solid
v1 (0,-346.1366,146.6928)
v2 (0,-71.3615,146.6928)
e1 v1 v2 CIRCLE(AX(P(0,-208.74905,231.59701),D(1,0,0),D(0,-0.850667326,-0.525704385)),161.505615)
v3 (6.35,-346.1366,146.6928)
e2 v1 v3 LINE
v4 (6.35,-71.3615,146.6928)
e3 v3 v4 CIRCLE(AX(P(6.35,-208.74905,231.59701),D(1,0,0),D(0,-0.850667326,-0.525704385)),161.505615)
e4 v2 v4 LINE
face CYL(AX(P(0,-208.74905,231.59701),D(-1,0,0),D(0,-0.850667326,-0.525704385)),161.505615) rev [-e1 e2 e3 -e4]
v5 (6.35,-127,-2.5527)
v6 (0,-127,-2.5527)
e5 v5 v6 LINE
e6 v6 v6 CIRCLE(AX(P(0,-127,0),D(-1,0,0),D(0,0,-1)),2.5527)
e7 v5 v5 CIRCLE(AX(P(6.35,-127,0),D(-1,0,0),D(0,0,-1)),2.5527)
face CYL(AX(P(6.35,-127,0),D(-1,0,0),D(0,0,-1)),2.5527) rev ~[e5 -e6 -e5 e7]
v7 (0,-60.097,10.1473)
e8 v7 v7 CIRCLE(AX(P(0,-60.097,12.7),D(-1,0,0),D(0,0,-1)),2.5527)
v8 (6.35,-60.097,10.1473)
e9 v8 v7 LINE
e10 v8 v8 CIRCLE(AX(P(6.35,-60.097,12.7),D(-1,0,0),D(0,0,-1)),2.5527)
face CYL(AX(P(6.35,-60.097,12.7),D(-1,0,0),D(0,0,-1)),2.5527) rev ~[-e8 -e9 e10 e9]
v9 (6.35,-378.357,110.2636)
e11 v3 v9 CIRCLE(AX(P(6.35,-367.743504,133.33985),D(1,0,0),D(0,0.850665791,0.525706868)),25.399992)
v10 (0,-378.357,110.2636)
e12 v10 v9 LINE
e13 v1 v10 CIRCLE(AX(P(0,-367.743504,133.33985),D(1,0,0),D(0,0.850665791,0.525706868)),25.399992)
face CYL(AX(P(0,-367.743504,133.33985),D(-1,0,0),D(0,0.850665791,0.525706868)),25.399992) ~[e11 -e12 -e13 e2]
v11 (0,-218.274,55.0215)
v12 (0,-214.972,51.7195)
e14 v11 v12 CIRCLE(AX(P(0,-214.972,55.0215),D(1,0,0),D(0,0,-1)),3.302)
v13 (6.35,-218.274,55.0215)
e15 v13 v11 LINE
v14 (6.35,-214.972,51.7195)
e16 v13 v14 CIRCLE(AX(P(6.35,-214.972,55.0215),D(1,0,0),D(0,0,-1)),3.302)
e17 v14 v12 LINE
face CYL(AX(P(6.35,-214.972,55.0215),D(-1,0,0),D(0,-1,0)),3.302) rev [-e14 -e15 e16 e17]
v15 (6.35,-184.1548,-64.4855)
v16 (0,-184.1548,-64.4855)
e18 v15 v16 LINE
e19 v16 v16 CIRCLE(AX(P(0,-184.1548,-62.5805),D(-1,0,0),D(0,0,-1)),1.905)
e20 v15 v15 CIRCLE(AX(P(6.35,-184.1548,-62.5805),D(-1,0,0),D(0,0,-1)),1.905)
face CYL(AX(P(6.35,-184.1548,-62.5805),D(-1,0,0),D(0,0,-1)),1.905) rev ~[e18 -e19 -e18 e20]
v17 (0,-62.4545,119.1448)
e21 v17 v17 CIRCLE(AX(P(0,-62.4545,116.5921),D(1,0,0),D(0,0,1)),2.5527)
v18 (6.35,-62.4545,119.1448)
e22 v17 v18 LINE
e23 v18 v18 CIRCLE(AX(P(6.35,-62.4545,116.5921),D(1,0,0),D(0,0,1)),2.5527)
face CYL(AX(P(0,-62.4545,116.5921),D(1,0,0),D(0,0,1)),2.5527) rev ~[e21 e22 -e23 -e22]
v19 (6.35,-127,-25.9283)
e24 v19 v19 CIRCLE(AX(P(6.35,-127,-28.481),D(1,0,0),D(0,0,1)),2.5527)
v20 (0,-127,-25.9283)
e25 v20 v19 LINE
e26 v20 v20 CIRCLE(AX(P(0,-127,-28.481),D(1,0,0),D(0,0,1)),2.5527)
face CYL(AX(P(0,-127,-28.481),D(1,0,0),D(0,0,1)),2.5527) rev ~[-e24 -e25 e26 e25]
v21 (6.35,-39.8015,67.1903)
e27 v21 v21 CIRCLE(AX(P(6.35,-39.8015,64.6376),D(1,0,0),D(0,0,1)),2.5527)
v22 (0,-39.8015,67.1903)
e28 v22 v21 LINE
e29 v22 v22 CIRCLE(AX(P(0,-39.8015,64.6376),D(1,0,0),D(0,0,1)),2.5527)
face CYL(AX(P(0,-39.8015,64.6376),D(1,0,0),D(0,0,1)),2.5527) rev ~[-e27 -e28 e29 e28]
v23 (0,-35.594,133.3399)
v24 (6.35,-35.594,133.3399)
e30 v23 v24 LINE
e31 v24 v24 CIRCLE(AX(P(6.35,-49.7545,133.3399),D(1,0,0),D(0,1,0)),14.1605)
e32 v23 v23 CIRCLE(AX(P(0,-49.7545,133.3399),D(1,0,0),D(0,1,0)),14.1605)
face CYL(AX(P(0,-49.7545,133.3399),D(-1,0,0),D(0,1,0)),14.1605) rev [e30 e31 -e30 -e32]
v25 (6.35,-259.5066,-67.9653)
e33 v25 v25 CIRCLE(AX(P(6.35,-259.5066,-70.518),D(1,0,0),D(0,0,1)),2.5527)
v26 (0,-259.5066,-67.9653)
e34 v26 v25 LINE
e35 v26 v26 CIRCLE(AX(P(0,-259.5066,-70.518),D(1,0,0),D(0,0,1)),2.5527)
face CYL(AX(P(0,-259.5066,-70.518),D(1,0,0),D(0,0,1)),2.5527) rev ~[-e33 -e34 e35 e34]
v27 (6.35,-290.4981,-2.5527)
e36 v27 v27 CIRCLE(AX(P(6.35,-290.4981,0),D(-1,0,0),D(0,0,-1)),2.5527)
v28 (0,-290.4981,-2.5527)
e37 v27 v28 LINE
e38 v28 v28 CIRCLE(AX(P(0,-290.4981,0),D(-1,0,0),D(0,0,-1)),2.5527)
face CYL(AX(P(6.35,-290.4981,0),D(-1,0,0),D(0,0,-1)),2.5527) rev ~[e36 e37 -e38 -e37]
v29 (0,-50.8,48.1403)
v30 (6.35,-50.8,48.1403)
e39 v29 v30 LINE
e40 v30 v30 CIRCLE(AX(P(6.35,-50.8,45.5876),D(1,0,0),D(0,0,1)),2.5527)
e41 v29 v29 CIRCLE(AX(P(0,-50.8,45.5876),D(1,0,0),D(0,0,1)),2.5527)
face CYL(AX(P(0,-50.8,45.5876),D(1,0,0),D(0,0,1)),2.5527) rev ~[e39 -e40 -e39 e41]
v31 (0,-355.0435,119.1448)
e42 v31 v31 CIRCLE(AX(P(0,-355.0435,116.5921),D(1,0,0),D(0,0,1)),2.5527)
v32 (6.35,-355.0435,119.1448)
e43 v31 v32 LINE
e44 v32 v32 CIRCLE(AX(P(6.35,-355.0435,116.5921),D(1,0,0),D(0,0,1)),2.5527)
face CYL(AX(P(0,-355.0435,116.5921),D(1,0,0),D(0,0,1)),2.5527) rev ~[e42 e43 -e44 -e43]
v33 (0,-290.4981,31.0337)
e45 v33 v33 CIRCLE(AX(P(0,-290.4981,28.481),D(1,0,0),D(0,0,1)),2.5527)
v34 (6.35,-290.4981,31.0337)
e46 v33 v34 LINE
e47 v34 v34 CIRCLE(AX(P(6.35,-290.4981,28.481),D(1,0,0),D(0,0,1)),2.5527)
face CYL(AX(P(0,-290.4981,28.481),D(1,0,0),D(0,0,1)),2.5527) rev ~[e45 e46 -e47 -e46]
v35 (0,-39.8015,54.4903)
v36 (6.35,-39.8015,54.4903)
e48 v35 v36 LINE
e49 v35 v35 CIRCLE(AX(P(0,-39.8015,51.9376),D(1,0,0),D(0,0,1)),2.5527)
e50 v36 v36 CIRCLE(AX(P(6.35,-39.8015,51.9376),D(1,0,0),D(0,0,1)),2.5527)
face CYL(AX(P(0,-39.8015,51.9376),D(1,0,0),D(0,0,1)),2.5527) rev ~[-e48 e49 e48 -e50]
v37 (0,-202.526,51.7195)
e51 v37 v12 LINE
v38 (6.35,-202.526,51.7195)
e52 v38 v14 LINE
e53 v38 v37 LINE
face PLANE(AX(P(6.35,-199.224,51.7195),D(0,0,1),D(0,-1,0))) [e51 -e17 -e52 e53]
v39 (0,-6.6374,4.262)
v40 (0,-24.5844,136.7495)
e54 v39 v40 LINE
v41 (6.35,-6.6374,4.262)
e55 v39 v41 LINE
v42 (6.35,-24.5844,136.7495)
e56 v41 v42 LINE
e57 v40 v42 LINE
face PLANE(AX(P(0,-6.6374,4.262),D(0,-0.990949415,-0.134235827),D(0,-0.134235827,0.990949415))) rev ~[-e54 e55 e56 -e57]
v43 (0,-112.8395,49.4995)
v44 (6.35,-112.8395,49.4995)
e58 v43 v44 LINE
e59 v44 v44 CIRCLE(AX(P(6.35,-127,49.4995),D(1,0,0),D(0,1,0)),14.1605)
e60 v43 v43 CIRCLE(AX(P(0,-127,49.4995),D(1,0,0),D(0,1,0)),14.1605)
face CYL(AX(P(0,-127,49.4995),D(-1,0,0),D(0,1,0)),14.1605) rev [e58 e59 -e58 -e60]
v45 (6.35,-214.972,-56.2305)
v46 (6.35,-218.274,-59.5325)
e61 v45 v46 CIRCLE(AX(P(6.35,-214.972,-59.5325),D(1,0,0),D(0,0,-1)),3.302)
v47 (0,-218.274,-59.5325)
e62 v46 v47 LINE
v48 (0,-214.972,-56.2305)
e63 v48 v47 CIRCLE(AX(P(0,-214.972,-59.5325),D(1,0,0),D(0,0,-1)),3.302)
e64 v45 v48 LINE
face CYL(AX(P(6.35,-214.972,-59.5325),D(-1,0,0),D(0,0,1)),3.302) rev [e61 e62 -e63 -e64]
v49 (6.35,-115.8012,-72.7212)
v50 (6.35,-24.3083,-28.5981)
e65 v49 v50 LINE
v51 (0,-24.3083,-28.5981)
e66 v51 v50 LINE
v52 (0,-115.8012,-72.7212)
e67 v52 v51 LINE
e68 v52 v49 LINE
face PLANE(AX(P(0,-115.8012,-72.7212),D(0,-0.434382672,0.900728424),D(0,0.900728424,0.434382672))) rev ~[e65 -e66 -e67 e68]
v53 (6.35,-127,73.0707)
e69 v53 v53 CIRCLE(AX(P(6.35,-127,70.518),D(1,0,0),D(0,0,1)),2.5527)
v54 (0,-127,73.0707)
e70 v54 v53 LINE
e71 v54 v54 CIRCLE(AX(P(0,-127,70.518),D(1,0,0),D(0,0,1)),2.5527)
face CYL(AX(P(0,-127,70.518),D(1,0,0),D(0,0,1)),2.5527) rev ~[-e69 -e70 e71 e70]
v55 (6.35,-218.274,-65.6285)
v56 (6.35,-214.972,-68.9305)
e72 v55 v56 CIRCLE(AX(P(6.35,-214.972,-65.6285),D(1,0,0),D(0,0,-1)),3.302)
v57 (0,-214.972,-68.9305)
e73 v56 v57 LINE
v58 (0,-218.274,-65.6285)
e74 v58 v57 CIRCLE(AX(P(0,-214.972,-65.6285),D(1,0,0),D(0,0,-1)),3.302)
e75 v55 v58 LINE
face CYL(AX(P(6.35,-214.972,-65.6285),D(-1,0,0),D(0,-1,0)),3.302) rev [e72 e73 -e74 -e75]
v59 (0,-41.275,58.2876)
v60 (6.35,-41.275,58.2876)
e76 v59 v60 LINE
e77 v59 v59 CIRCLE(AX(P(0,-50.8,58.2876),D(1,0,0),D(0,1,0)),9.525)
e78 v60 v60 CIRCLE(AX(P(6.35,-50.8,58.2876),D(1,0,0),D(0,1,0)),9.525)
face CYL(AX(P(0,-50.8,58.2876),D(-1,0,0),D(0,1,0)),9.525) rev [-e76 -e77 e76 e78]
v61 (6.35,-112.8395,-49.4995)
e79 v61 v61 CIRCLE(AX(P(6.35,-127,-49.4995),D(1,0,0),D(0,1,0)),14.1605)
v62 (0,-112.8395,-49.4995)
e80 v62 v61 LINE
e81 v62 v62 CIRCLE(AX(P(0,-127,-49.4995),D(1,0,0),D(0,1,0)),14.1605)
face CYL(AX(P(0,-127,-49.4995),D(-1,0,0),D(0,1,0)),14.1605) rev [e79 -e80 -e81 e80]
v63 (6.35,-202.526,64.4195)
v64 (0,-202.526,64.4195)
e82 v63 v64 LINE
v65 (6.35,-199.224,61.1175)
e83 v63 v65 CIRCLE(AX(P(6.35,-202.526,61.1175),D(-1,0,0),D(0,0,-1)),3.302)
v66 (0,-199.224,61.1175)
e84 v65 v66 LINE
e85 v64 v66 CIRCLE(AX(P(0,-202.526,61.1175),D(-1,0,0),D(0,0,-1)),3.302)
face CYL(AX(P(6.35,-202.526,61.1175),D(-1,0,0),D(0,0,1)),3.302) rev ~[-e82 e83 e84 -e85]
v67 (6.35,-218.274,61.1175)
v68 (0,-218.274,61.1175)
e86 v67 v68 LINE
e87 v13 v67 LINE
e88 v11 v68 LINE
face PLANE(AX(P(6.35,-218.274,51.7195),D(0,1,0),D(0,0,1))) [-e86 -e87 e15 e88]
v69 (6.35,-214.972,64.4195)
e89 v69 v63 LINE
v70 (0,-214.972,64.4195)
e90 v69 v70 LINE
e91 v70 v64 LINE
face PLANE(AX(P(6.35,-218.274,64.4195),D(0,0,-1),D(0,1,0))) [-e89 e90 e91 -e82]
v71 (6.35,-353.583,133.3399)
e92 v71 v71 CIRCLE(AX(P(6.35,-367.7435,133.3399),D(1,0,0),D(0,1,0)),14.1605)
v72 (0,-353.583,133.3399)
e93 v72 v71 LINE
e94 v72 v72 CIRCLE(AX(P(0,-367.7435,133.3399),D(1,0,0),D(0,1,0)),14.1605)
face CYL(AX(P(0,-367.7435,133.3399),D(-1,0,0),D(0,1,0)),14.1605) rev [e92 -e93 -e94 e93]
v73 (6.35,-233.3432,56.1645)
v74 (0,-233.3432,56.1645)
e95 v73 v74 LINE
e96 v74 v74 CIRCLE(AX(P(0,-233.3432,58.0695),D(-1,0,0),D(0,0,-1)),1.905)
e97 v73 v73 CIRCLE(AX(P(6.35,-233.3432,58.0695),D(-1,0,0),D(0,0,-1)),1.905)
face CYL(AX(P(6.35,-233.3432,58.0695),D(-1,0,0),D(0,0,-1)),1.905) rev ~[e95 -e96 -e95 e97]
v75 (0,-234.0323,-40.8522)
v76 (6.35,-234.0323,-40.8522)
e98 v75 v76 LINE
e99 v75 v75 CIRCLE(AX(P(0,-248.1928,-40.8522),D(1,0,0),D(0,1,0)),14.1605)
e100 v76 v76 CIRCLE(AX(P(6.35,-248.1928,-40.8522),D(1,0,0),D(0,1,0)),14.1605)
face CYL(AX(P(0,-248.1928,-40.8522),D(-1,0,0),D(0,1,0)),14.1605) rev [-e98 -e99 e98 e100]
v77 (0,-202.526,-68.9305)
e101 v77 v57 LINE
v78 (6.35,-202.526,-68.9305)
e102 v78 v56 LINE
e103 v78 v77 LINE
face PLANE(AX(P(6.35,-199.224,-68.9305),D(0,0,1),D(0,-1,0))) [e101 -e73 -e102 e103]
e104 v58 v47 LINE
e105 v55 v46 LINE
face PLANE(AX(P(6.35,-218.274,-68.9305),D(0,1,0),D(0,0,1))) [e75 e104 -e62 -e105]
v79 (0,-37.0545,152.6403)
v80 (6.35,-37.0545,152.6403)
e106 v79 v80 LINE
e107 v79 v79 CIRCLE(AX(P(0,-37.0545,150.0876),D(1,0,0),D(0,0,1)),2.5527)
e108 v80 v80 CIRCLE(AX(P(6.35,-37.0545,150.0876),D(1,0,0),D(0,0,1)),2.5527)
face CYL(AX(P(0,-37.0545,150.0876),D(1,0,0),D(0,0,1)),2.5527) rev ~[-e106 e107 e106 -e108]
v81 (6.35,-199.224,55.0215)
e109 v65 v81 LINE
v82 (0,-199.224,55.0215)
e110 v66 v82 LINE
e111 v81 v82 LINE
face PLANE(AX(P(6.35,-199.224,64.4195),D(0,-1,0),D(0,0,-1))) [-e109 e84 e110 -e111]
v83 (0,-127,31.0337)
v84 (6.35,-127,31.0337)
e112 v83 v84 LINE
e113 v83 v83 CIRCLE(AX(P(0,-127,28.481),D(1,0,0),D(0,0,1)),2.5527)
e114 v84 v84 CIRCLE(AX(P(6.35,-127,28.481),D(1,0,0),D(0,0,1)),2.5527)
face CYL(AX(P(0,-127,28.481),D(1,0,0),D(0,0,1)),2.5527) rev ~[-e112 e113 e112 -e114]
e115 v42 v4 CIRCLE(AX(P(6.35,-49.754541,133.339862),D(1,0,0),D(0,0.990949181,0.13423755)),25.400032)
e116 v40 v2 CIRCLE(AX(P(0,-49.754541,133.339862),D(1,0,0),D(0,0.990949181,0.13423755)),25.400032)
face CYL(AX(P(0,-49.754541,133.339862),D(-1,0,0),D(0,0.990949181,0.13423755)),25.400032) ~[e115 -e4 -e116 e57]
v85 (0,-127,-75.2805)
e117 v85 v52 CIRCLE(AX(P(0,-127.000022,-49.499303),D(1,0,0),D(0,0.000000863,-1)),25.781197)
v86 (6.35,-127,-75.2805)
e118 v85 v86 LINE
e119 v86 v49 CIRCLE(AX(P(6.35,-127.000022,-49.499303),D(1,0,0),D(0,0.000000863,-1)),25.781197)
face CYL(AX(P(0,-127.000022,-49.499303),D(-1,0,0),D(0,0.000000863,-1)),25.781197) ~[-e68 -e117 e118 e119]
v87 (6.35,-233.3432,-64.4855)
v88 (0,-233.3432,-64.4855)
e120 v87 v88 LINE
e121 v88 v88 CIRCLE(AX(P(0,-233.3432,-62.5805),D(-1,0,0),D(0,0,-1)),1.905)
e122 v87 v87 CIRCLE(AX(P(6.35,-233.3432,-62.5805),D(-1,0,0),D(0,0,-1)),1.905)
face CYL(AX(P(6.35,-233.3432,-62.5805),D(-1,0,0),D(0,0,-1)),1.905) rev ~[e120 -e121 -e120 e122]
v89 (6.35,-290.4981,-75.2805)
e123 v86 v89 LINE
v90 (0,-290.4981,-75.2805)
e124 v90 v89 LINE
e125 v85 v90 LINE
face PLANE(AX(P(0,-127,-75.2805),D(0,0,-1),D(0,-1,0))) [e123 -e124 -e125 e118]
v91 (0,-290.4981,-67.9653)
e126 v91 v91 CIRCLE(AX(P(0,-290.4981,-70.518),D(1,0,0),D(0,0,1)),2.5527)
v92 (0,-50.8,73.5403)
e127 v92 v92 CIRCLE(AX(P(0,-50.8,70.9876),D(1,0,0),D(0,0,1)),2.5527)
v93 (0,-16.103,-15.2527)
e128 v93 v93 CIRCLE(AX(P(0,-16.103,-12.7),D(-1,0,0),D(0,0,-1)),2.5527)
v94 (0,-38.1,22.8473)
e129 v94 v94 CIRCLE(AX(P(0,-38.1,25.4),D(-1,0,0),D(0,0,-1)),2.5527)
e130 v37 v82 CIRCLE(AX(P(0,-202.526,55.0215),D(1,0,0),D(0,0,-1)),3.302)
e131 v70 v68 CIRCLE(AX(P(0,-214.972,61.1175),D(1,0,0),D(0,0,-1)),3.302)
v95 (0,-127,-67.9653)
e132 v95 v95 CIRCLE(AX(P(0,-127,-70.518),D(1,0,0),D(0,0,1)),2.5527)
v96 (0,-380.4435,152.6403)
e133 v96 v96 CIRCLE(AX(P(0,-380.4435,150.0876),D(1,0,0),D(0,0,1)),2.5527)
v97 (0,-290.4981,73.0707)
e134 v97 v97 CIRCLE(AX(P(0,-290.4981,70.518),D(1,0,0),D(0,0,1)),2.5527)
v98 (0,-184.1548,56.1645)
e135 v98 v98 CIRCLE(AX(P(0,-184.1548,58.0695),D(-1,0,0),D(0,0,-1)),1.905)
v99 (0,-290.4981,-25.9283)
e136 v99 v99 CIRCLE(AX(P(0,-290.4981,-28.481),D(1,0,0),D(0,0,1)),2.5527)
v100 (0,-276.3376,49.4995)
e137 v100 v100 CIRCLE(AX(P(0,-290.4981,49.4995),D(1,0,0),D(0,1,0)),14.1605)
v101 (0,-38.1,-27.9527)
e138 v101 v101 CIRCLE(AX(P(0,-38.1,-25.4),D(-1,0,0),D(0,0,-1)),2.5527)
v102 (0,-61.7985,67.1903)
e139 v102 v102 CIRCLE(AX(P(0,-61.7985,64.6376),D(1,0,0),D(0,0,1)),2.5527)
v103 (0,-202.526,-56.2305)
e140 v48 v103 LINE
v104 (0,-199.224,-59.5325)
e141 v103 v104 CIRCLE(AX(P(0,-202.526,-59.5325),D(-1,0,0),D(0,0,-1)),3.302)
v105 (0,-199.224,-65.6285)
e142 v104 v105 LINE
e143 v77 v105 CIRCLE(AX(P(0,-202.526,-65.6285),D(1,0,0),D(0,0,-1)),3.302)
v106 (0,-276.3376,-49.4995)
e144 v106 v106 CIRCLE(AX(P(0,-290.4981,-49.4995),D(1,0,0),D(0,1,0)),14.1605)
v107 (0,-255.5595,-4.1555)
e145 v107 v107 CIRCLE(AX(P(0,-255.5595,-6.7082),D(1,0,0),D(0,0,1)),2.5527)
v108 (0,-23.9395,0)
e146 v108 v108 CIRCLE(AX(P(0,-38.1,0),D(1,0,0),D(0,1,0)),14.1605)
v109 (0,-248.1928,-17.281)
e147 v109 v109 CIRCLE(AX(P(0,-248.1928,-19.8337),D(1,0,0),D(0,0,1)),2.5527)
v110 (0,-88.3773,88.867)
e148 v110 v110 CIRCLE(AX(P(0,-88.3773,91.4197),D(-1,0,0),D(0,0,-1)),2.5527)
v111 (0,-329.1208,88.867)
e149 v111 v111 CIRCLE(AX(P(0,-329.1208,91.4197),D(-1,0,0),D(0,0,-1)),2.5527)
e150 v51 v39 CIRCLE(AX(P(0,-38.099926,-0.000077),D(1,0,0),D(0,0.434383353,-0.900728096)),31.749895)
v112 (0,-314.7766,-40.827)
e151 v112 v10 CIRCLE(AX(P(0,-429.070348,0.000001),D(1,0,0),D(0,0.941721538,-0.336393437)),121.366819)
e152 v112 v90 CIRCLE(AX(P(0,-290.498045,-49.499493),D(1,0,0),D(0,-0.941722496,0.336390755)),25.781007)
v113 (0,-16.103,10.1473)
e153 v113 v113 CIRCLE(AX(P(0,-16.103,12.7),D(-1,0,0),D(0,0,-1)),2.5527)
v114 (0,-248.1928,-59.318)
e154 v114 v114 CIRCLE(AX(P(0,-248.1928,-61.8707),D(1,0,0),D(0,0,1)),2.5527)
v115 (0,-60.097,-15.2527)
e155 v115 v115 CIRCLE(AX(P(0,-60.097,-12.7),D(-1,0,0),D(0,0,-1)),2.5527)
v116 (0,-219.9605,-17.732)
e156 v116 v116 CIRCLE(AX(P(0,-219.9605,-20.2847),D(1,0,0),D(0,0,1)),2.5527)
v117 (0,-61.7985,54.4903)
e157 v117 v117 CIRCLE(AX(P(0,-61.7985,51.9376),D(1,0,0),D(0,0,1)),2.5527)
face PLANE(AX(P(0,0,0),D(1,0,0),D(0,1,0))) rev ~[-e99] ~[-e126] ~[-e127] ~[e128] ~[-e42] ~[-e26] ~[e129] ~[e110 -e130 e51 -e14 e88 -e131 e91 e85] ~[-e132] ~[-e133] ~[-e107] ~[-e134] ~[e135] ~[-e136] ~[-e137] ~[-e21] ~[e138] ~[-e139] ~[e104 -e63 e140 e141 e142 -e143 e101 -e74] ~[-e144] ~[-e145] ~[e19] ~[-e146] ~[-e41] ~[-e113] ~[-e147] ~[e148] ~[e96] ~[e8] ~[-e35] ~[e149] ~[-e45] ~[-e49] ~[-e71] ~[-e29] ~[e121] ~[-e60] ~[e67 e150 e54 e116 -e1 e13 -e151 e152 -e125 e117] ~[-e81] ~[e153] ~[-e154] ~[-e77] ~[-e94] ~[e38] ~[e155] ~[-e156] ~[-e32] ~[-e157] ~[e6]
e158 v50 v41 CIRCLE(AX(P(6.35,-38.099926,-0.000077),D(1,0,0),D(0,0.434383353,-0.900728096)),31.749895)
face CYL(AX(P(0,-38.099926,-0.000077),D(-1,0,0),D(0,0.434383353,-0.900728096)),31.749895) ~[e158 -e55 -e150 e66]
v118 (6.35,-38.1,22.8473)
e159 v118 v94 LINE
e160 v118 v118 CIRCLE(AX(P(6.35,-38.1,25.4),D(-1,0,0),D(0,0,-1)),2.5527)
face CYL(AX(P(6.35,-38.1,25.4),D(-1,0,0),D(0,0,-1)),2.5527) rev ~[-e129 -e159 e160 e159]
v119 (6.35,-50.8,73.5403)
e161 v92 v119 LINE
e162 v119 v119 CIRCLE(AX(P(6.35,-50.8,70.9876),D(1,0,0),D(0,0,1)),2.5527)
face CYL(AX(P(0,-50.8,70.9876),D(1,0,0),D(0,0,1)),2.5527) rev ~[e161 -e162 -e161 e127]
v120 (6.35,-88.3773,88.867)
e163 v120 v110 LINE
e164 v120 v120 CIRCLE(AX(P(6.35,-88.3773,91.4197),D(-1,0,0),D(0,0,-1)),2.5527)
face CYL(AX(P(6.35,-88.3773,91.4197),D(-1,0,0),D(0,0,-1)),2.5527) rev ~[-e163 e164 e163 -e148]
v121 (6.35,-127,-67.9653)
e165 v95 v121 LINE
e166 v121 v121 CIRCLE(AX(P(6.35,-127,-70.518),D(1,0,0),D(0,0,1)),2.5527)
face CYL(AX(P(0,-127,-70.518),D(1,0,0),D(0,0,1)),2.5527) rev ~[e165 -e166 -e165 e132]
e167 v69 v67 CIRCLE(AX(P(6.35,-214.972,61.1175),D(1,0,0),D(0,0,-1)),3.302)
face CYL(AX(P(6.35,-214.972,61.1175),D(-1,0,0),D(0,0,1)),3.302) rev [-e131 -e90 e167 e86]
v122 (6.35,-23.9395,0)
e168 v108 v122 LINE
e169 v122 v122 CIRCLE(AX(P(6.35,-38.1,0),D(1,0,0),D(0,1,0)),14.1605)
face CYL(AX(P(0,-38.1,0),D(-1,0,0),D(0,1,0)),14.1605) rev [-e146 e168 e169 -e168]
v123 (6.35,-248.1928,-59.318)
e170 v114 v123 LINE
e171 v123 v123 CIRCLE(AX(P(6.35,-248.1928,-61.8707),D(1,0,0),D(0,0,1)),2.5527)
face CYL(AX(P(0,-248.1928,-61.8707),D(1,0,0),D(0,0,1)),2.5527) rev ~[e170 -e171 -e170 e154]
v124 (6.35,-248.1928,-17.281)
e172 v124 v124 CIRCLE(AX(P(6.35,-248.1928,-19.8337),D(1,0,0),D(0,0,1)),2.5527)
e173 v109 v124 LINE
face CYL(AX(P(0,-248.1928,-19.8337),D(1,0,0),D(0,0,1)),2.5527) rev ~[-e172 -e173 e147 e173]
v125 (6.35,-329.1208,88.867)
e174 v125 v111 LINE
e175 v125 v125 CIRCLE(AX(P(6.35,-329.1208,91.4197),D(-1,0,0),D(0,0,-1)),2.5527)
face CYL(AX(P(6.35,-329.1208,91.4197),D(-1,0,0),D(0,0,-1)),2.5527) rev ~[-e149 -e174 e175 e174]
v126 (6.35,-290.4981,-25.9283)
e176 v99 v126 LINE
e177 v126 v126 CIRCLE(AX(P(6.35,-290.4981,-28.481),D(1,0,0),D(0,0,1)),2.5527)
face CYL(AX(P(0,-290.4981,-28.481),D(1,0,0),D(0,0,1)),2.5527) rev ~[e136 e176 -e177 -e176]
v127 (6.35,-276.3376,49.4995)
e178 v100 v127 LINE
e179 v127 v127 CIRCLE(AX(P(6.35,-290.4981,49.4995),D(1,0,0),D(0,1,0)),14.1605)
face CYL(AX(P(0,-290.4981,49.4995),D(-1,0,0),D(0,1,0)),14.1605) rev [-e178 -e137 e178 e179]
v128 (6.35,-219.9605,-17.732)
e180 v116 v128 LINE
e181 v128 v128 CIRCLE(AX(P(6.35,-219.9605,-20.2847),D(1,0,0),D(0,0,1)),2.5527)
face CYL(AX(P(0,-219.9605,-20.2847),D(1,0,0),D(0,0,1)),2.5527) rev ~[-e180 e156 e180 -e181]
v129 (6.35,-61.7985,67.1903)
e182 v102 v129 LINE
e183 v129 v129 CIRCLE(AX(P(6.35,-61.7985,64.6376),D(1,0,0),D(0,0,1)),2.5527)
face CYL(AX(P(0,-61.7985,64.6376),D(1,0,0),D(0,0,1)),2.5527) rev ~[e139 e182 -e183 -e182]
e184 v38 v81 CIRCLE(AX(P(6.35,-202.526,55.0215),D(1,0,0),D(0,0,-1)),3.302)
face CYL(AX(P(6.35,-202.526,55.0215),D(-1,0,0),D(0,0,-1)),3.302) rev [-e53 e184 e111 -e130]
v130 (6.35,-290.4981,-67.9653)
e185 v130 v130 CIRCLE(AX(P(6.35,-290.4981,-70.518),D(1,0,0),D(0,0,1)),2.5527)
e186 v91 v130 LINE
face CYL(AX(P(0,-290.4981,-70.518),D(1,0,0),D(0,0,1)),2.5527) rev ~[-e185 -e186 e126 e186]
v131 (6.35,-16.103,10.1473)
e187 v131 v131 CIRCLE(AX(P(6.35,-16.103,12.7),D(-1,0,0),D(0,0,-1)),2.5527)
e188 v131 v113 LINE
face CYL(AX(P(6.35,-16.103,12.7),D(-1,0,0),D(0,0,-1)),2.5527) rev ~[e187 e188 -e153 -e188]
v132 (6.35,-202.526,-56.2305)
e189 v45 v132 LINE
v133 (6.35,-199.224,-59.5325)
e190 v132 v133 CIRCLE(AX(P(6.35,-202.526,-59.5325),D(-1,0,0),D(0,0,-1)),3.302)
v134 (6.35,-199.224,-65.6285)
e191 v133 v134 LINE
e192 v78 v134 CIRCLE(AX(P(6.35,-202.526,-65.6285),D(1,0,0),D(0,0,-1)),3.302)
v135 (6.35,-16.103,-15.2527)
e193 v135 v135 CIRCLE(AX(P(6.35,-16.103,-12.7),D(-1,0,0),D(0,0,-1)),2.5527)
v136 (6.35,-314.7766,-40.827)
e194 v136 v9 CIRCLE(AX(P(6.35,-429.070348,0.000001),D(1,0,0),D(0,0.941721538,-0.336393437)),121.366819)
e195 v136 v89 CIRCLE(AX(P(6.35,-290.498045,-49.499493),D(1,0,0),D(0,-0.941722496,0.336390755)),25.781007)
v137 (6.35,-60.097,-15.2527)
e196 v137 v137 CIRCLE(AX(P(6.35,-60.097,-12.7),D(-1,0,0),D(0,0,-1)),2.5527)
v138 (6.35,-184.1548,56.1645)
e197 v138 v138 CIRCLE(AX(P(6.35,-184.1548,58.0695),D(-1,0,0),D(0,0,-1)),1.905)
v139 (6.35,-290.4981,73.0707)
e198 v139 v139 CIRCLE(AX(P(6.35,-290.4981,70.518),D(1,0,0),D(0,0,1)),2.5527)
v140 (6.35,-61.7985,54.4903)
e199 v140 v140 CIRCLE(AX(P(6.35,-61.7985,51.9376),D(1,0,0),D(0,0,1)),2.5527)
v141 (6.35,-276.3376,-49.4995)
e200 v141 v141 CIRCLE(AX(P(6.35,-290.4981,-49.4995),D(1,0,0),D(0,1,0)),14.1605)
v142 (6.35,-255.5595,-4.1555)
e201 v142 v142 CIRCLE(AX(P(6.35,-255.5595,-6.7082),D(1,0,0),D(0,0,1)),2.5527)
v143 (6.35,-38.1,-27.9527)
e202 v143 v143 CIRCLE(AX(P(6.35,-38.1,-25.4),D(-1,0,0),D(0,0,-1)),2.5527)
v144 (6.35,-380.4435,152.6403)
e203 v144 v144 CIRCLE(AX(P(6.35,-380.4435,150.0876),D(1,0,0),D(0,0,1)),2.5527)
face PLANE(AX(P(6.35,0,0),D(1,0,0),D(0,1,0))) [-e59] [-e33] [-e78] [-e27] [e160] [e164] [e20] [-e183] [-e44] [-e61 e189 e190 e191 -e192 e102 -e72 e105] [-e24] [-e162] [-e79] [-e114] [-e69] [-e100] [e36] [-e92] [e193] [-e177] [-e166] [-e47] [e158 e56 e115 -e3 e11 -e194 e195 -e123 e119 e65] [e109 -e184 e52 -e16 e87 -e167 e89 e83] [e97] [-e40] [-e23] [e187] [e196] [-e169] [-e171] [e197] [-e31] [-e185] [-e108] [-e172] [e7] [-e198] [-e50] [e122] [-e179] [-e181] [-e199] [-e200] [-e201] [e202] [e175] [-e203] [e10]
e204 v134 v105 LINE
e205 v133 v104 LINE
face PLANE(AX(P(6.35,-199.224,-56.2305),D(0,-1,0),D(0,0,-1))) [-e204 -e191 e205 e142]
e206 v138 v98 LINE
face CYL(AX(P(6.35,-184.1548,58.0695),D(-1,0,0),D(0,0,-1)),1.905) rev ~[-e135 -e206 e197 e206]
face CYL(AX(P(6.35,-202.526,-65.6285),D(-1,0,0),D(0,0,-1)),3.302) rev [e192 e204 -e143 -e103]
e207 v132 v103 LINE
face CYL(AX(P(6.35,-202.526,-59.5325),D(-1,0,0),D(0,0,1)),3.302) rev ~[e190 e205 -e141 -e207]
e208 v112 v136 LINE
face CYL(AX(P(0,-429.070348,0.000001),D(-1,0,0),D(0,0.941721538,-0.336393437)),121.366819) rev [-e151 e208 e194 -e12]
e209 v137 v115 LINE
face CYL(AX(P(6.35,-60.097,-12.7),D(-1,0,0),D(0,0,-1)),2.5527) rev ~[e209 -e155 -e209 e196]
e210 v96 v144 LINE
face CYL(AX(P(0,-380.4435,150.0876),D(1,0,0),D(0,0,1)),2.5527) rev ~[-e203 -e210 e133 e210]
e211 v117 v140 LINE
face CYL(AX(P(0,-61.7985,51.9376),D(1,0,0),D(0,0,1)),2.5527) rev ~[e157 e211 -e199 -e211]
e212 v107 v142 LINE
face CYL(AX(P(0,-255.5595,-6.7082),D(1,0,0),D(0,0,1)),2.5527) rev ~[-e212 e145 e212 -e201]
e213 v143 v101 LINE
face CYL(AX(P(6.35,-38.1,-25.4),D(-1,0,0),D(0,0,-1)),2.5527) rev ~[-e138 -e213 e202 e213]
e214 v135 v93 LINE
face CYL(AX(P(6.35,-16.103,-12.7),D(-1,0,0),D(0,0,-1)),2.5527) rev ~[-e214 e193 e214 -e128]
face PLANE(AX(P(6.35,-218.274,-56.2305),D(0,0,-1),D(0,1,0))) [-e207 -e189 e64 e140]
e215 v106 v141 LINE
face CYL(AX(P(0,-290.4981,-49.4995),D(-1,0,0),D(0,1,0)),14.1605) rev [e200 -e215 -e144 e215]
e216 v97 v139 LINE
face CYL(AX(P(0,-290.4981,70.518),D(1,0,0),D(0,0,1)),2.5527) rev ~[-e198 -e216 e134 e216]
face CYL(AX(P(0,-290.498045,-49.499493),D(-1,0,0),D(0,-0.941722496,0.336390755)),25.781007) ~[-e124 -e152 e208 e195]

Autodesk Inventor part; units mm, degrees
ref_plane "YZ Plane" through (0, 0, 0) normal (1, 0, 0) x (0, 1, 0)
ref_plane "XZ Plane" through (0, 0, 0) normal (0, 1, 0) x (-1, 0, 0)
ref_plane "XY Plane" through (0, 0, 0) normal (0, 0, 1) x (1, 0, 0)
sketch "Sketch1" plane through (0, 0, 0) normal (1, 0, 0) x (0, 1, 0)
  line L0 (-12.7, 25.4) -> (12.7, 25.4) construction
  line L1 (12.7, 25.4) -> (12.7, -25.4) construction
  line L2 (12.7, -25.4) -> (-12.7, -25.4) construction
  line L3 (-12.7, -25.4) -> (-12.7, 25.4) construction
  line L4 (-12.7, 25.4) -> (12.7, -25.4) construction
  line L5 (12.7, 25.4) -> (-12.7, -25.4) construction
  circle A0 centre (-127, -49.4995) radius 38.1 construction
  circle A1 centre (-290.4981, -49.4995) radius 38.1 construction
  circle A2 centre (-127, 49.4995) radius 38.1 construction
  circle A3 centre (-290.4981, 49.4995) radius 38.1 construction
  line L6 (-127, -49.4995) -> (-127, 49.4995) construction
  line L7 (-290.4981, -49.4995) -> (-290.4981, 49.4995) construction
  line L8 (-161.925, -152.4) -> (-255.5731, -152.4) construction
  line L9 (-255.5731, -152.4) -> (-255.5731, 152.4) construction
  line L10 (-255.5731, 152.4) -> (-161.925, 152.4) construction
  line L11 (-161.925, 152.4) -> (-161.925, -152.4) construction
  line L12 (-161.925, -152.4) -> (-255.5731, 152.4) construction
  line L13 (-255.5731, -152.4) -> (-161.925, 152.4) construction
  circle A4 centre (-127, -49.4995) radius 34.925 construction
  circle A5 centre (-290.4981, -49.4995) radius 34.925 construction
  circle A6 centre (-208.749, 279.4) radius 190.5 construction
  circle A7 centre (-49.7545, 133.3399) radius 25.4 construction
  circle A8 centre (-367.7435, 133.3399) radius 25.4 construction
  circle A9 centre (-653.2508, -157.862) radius 53.975 construction
  line L14 (-596.1008, -277.7111) -> (-621.5008, -277.7111) construction
  line L15 (-621.5008, -277.7111) -> (-621.5008, -201.5111) construction
  line L16 (-621.5008, -201.5111) -> (-596.1008, -201.5111) construction
  line L17 (-596.1008, -201.5111) -> (-596.1008, -277.7111) construction
  line L18 (-596.1008, -277.7111) -> (-621.5008, -201.5111) construction
  line L19 (-621.5008, -277.7111) -> (-596.1008, -201.5111) construction
  line L20 (-685.0008, -277.7111) -> (-710.4008, -277.7111) construction
  line L21 (-710.4008, -277.7111) -> (-710.4008, -201.5111) construction
  line L22 (-710.4008, -201.5111) -> (-685.0008, -201.5111) construction
  line L23 (-685.0008, -201.5111) -> (-685.0008, -277.7111) construction
  line L24 (-685.0008, -277.7111) -> (-710.4008, -201.5111) construction
  line L25 (-710.4008, -277.7111) -> (-685.0008, -201.5111) construction
  line L26 (-498.4346, -157.862) -> (-808.067, -157.862) construction
  point P0 (0, 0)
  point P1 (-127, 0)
  point P2 (-290.4981, 0)
  point P3 (-208.749, 0)
  point P4 (-608.8008, -239.6111)
  point P5 (-697.7008, -239.6111)
  dimension "d0" = 25.4
  dimension "d1" = 50.8
  dimension "d2" = 76.2
  dimension "d4" = 98.999
  dimension "d5" = 93.6481
  dimension "d6" = 304.8
  dimension "d7" = 3.175
  dimension "d8" = 3.175
  dimension "d9" = 127
  dimension "d10" = 381
  dimension "d11" = 50.8
  dimension "d12" = 50.8
  dimension "d13" = 114.0003
  dimension "d14" = 279.4
  dimension "d35" = 49.4995
  dimension "d68" = 107.95
  dimension "d69" = 25.4
  dimension "d70" = 76.2
  dimension "d71" = 63.5
  dimension "d72" = 81.749
  dimension "d73" = 163.4981
sketch "Sketch2" plane through (0, 0, 0) normal (1, 0, 0) x (0, 1, 0)
  circle A0 centre (-127, -49.4995) radius 38.1 construction
  circle A1 centre (-127, 49.4995) radius 38.1 construction
  circle A2 centre (-127, -49.4995) radius 34.925 construction
  line L0 (-255.5731, 152.4) -> (-161.925, 152.4) construction
  line L1 (-161.925, -152.4) -> (-255.5731, -152.4) construction
  line L2 (-161.925, 152.4) -> (-161.925, -152.4) construction
  line L3 (-255.5731, -152.4) -> (-161.925, 152.4) construction
  line L4 (-161.925, -152.4) -> (-255.5731, 152.4) construction
  line L5 (-255.5731, -152.4) -> (-255.5731, 152.4) construction
  circle A3 centre (-290.4981, 49.4995) radius 38.1 construction
  circle A4 centre (-290.4981, -49.4995) radius 34.925 construction
  circle A5 centre (-290.4981, -49.4995) radius 38.1 construction
  line L6 (-290.4981, -49.4995) -> (-290.4981, 49.4995) construction
  line L7 (-127, -49.4995) -> (-127, 49.4995) construction
  line L8 (-12.7, -25.4) -> (-12.7, 25.4) construction
  line L9 (12.7, 25.4) -> (12.7, -25.4) construction
  line L10 (12.7, -25.4) -> (-12.7, -25.4) construction
  line L11 (-12.7, 25.4) -> (12.7, -25.4) construction
  line L12 (12.7, 25.4) -> (-12.7, -25.4) construction
  line L13 (-12.7, 25.4) -> (12.7, 25.4) construction
  circle A6 centre (-208.749, 279.4) radius 190.5 construction
  circle A7 centre (-49.7545, 133.3399) radius 25.4 construction
  circle A8 centre (-367.7435, 133.3399) radius 25.4 construction
  circle A9 centre (-127, -49.4995) radius 14.1605
  circle A10 centre (-290.4981, -49.4995) radius 14.1605
  circle A11 centre (-290.4981, 49.4995) radius 14.1605
  circle A12 centre (-127, 49.4995) radius 14.1605
  circle A13 centre (-367.7435, 133.3399) radius 14.1605
  circle A14 centre (-49.7545, 133.3399) radius 14.1605
  circle A15 centre (-38.1, 0) radius 14.1605
  circle A16 centre (-38.1, 0) radius 39.3065 construction
  circle A17 centre (-38.1, 0) radius 25.4 construction
  circle A18 centre (-38.1, 0) radius 31.75 construction
  circle A19 centre (-127, -49.4995) radius 25.781 construction
  line L14 (-127, -70.518) -> (-127, -28.481) construction
  circle A20 centre (-127, -70.518) radius 4.7625 construction
  circle A21 centre (-290.4981, -49.4995) radius 25.781 construction
  circle A22 centre (-290.4981, 49.4995) radius 25.781 construction
  circle A23 centre (-127, 49.4995) radius 25.781 construction
  line L15 (-127, -75.2805) -> (-290.4981, -75.2805)
  arc A24 (-314.7766, -40.827) -> (-378.357, 110.2636) centre (-429.0704, 0) ccw
  line L16 (-115.8012, -72.7212) -> (-24.3083, -28.5981)
  line L17 (-6.6374, 4.262) -> (-24.5844, 136.7495)
  arc A25 (-346.1366, 146.6928) -> (-71.3615, 146.6928) centre (-208.749, 231.5971) ccw
  arc A26 (-24.5844, 136.7495) -> (-71.3615, 146.6928) centre (-49.7545, 133.3399) ccw
  arc A27 (-346.1366, 146.6928) -> (-378.357, 110.2636) centre (-367.7435, 133.3399) ccw
  arc A28 (-314.7766, -40.827) -> (-290.4981, -75.2805) centre (-290.4981, -49.4995) ccw
  arc A29 (-127, -75.2805) -> (-115.8012, -72.7212) centre (-127, -49.4995) ccw
  arc A30 (-24.3083, -28.5981) -> (-6.6374, 4.262) centre (-38.1, 0) ccw
  circle A31 centre (-50.8, 58.2876) radius 19.05 construction
  circle A32 centre (-50.8, 58.2876) radius 12.7 construction
  circle A33 centre (-50.8, 58.2876) radius 9.525
  line L18 (-290.4981, 28.481) -> (-290.4981, 70.518) construction
  line L19 (-290.4981, -70.518) -> (-290.4981, -28.481) construction
  line L20 (-62.4545, 116.5921) -> (-37.0545, 150.0876) construction
  line L21 (-355.0435, 116.5921) -> (-380.4435, 150.0876) construction
  line L22 (-127, 28.481) -> (-127, 70.518) construction
  circle A34 centre (-248.1928, -40.8522) radius 14.1605
  circle A35 centre (-248.1928, -40.8522) radius 21.59 construction
  circle A36 centre (-290.4981, -49.4995) radius 21.59 construction
  line L23 (-248.1928, -61.8707) -> (-248.1928, -19.8337) construction
  point P0 (0, 0)
  point P1 (-127, 0)
  point P2 (-208.749, 0)
  point P3 (-290.4981, 0)
  point P4 (0, 0)
  point P5 (-38.1, 25.4)
  point P6 (-395.5081, 116.5261)
  point P7 (-50.8, 45.5876)
  point P8 (-39.8015, 51.9376)
  point P9 (-39.8015, 64.6376)
  point P10 (-50.8, 70.9876)
  point P11 (-61.7985, 64.6376)
  point P12 (-61.7985, 51.9376)
  dimension "d18" = 50.8
  dimension "d32" = 9.525
  dimension "d37" = 25.4
  dimension "d15" = 28.321
  dimension "d16" = 38.1
  dimension "d17" = 78.613
  dimension "d19" = 6.35
  dimension "d31" = 42.037
  dimension "d36" = 38.1
  dimension "d38" = 19.05
  dimension "d50" = 12.7
  dimension "d51" = 12.7
  dimension "d61" = 360
  dimension "d63" = 75.0595
  dimension "d64" = 76.2
  dimension "d74" = 121.5009
  dimension "d75" = 43.18
extrude "Extrusion1" add sketch "Sketch2" along normal blind 6.35
hole "Hole1" at (0, -127, -49.4995) at (0, -127, 49.4995) at (0, -161.925, 152.4) at (0, -161.925, -152.4) at (0, -255.5731, 152.4) at (0, -290.4981, 49.4995) at (0, -290.4981, -49.4995) at (0, -255.5731, -152.4) at (0, -127, -70.518) at (0, -127, -28.481) at (0, -50.8, 45.5876) at (0, -290.4981, 28.481) at (0, -290.4981, 70.518) at (0, -290.4981, -70.518) at (0, -290.4981, -28.481) at (0, -62.4545, 116.5921) at (0, -37.0545, 150.0876) at (0, -355.0435, 116.5921) at (0, -380.4435, 150.0876) at (0, -127, 28.481) at (0, -127, 70.518) at (0, -61.7985, 51.9376) at (0, -61.7985, 64.6376) at (0, -50.8, 70.9876) at (0, -39.8015, 64.6376) at (0, -39.8015, 51.9376) at (0, -248.1928, -61.8707) at (0, -248.1928, -19.8337) direction (1, 0, 0) diameter 5.1054 end through all clearance for "Flat Head Machine Screw (82)" size "#10" standard "Ansi Unified Screw Threads"
sketch "Sketch3" plane through (6.35, 0, 0) normal (1, 0, 0) x (0, 0, -1)
  circle A0 centre (0, -38.1) radius 14.1605 construction
  circle A1 centre (0, -38.1) radius 25.4 construction
  point P0 (0, 0)
  point P1 (25.4, -38.1)
  point P2 (12.7, -16.103)
  point P3 (-12.7, -16.103)
  point P4 (-25.4, -38.1)
  point P5 (-12.7, -60.097)
  point P6 (12.7, -60.097)
  dimension "d77" = 50.8
  dimension "d80" = 360
hole "Hole2" at (6.35, -38.1, -25.4) at (6.35, -16.103, -12.7) at (6.35, -16.103, 12.7) at (6.35, -38.1, 25.4) at (6.35, -60.097, 12.7) at (6.35, -60.097, -12.7) direction (-1, 0, 0) diameter 5.1054 end through all clearance for "Flat Head Machine Screw (82)" size "#10" standard "Ansi Unified Screw Threads"
sketch "Sketch4" plane through (6.35, 0, 0) normal (1, 0, 0) x (0, 0, -1)
  circle A0 centre (-12.7, -60.097) radius 2.5527 projected
  circle A1 centre (-12.7, -16.103) radius 2.5527 projected
  circle A2 centre (25.4, -38.1) radius 2.5527 projected
  circle A3 centre (12.7, -16.103) radius 2.5527 projected
  circle A4 centre (-25.4, -38.1) radius 2.5527 projected
  circle A5 centre (12.7, -60.097) radius 2.5527 projected
  circle A6 centre (61.8707, -248.1928) radius 2.5527 projected
  circle A7 centre (-64.6376, -39.8015) radius 2.5527 projected
  circle A8 centre (-64.6376, -61.7985) radius 2.5527 projected
  circle A9 centre (-70.518, -127) radius 2.5527 projected
  circle A10 centre (-150.0876, -380.4435) radius 2.5527 projected
  circle A11 centre (-150.0876, -37.0545) radius 2.5527 projected
  circle A12 centre (28.481, -290.4981) radius 2.5527 projected
  circle A13 centre (-70.518, -290.4981) radius 2.5527 projected
  circle A14 centre (-45.5876, -50.8) radius 2.5527 projected
  circle A15 centre (70.518, -127) radius 2.5527 projected
  circle A16 centre (28.481, -127) radius 2.5527 projected
  circle A17 centre (-28.481, -290.4981) radius 2.5527 projected
  circle A18 centre (70.518, -290.4981) radius 2.5527 projected
  circle A19 centre (-116.5921, -62.4545) radius 2.5527 projected
  circle A20 centre (-116.5921, -355.0435) radius 2.5527 projected
  circle A21 centre (-28.481, -127) radius 2.5527 projected
  circle A22 centre (-51.9376, -61.7985) radius 2.5527 projected
  circle A23 centre (-70.9876, -50.8) radius 2.5527 projected
  circle A24 centre (-51.9376, -39.8015) radius 2.5527 projected
  circle A25 centre (19.8337, -248.1928) radius 2.5527 projected
  arc A26 (28.5981, -24.3083) -> (-4.262, -6.6374) centre (0, -38.1) ccw projected
  line L0 (-4.262, -6.6374) -> (-136.7495, -24.5844) projected
  arc A27 (-136.7495, -24.5844) -> (-146.6928, -71.3615) centre (-133.3399, -49.7545) ccw projected
  arc A28 (-146.6928, -346.1366) -> (-146.6928, -71.3615) centre (-231.5971, -208.749) ccw projected
  arc A29 (-146.6928, -346.1366) -> (-110.2636, -378.357) centre (-133.3399, -367.7435) ccw projected
  arc A30 (40.827, -314.7766) -> (-110.2636, -378.357) centre (0, -429.0704) ccw projected
  arc A31 (40.827, -314.7766) -> (75.2805, -290.4981) centre (49.4995, -290.4981) ccw projected
  line L1 (75.2805, -290.4981) -> (75.2805, -127) projected
  arc A32 (75.2805, -127) -> (72.7212, -115.8012) centre (49.4995, -127) ccw projected
  line L2 (72.7212, -115.8012) -> (28.5981, -24.3083) projected
  circle A33 centre (-49.4995, -290.4981) radius 14.1605 projected
  circle A34 centre (-49.4995, -127) radius 14.1605 projected
  circle A35 centre (-58.2876, -50.8) radius 9.525 projected
  circle A36 centre (40.8522, -248.1928) radius 14.1605 projected
  circle A37 centre (0, -38.1) radius 14.1605 projected
  circle A38 centre (-133.3399, -49.7545) radius 14.1605 projected
  circle A39 centre (-133.3399, -367.7435) radius 14.1605 projected
  circle A40 centre (49.4995, -290.4981) radius 14.1605 projected
  circle A41 centre (49.4995, -127) radius 14.1605 projected
  circle A42 centre (-49.4995, -290.4981) radius 14.1605 projected
  line L3 (-133.3399, -367.7435) -> (-49.4995, -290.4981) construction
  line L4 (-133.3399, -49.7545) -> (-49.4995, -127) construction
  line L5 (-49.4995, -127) -> (49.4995, -127) construction
  line L6 (-49.4995, -290.4981) -> (49.4995, -290.4981) construction
  point P0 (0, 0)
  point P1 (-91.4197, -88.3773)
  point P2 (0, -127)
  point P3 (0, -290.4981)
  point P4 (-91.4197, -329.1208)
hole "Hole3" at (6.35, -88.3773, 91.4197) at (6.35, -127, 0) at (6.35, -290.4981, 0) at (6.35, -329.1208, 91.4197) direction (-1, 0, 0) diameter 5.1054 end through all clearance for "Flat Head Machine Screw (82)" size "#10" standard "Ansi Unified Screw Threads"
sketch "Sketch5" plane through (0, 0, 0) normal (-1, 0, 0) x (0, 0, 1)
  line L0 (-20.2847, -219.9605) -> (-70.518, -259.5066) construction
  line L1 (-70.518, -259.5066) -> (-6.7082, -255.5595) construction
  line L2 (-6.7082, -255.5595) -> (-20.2847, -219.9605) construction
  circle A0 centre (-40.8522, -248.1928) radius 14.1605 construction
  circle A1 centre (-49.4995, -127) radius 14.1605 construction
  line L3 (-40.8522, -248.1928) -> (-49.4995, -127) construction
  line L4 (-28.6658, -247.3233) -> (-37.3131, -126.1305) construction
  line L5 (-61.6859, -127.8695) -> (-53.0386, -249.0623) construction
  arc A2 (-53.0386, -249.0623) -> (-28.6658, -247.3233) centre (-40.8522, -248.1928) ccw construction
  arc A3 (-37.3131, -126.1305) -> (-61.6859, -127.8695) centre (-49.4995, -127) ccw construction
  line L6 (-70.518, -259.5066) -> (-13.4965, -237.76) construction
  line L7 (-75.2805, -290.4981) -> (-75.2805, -127) construction
  circle A4 centre (-70.518, -259.5066) radius 4.7625 construction
  circle A5 centre (-20.2847, -219.9605) radius 4.7625 construction
  circle A6 centre (-6.7082, -255.5595) radius 4.7625 construction
  point P0 (0, 0)
  point P1 (-45.1759, -187.5964)
  dimension "d97" = 38.1
  dimension "d98" = 63.9318
  dimension "d99" = 63.9318
  dimension "d101" = 12.2174
  dimension "d102" = 31.75
  dimension "d111" = 9.525
  dimension "d112" = 9.525
  dimension "d113" = 9.525
hole "Hole4" at (0, -248.1928, -40.8522) at (0, -259.5066, -70.518) at (0, -219.9605, -20.2847) at (0, -255.5595, -6.7082) direction (1, 0, 0) diameter 5.1054 end through all clearance for "Flat Head Machine Screw (82)" size "#10" standard "Ansi Unified Screw Threads"
sketch "Sketch6" plane through (6.35, 0, 0) normal (1, 0, 0) x (0, 0, -1)
  line L0 (62.5805, -184.1548) -> (62.5805, -233.3432) construction
  line L1 (75.2805, -290.4981) -> (75.2805, -127) construction
  circle A0 centre (20.2847, -219.9605) radius 2.5527 construction
  circle A1 centre (70.518, -259.5066) radius 2.5527 construction
  circle A2 centre (6.7082, -255.5595) radius 2.5527 construction
  circle A3 centre (0, -290.4981) radius 2.5527 construction
  circle A4 centre (-91.4197, -88.3773) radius 2.5527 construction
  circle A5 centre (0, -127) radius 2.5527 construction
  circle A6 centre (-91.4197, -329.1208) radius 2.5527 construction
  circle A7 centre (-12.7, -60.097) radius 2.5527 construction
  circle A8 centre (-12.7, -16.103) radius 2.5527 construction
  circle A9 centre (25.4, -38.1) radius 2.5527 construction
  circle A10 centre (12.7, -16.103) radius 2.5527 construction
  circle A11 centre (-25.4, -38.1) radius 2.5527 construction
  circle A12 centre (12.7, -60.097) radius 2.5527 construction
  circle A13 centre (61.8707, -248.1928) radius 2.5527 construction
  circle A14 centre (-64.6376, -39.8015) radius 2.5527 construction
  circle A15 centre (-64.6376, -61.7985) radius 2.5527 construction
  circle A16 centre (-70.518, -127) radius 2.5527 construction
  circle A17 centre (-150.0876, -380.4435) radius 2.5527 construction
  circle A18 centre (-150.0876, -37.0545) radius 2.5527 construction
  circle A19 centre (28.481, -290.4981) radius 2.5527 construction
  circle A20 centre (-70.518, -290.4981) radius 2.5527 construction
  circle A21 centre (-45.5876, -50.8) radius 2.5527 construction
  circle A22 centre (70.518, -127) radius 2.5527 construction
  circle A23 centre (28.481, -127) radius 2.5527 construction
  circle A24 centre (-28.481, -290.4981) radius 2.5527 construction
  circle A25 centre (70.518, -290.4981) radius 2.5527 construction
  circle A26 centre (-116.5921, -62.4545) radius 2.5527 construction
  circle A27 centre (-116.5921, -355.0435) radius 2.5527 construction
  circle A28 centre (-28.481, -127) radius 2.5527 construction
  circle A29 centre (-51.9376, -61.7985) radius 2.5527 construction
  circle A30 centre (-70.9876, -50.8) radius 2.5527 construction
  circle A31 centre (-51.9376, -39.8015) radius 2.5527 construction
  circle A32 centre (19.8337, -248.1928) radius 2.5527 construction
  circle A33 centre (49.4995, -127) radius 14.1605 construction
  circle A34 centre (49.4995, -290.4981) radius 14.1605 construction
  circle A35 centre (-133.3399, -367.7435) radius 14.1605 construction
  circle A36 centre (-133.3399, -49.7545) radius 14.1605 construction
  circle A37 centre (0, -38.1) radius 14.1605 construction
  circle A38 centre (40.8522, -248.1928) radius 14.1605 construction
  circle A39 centre (-58.2876, -50.8) radius 9.525 construction
  circle A40 centre (-49.4995, -127) radius 14.1605 construction
  circle A41 centre (-49.4995, -290.4981) radius 14.1605 construction
  line L2 (28.5981, -24.3083) -> (72.7212, -115.8012) construction
  arc A42 (75.2805, -127) -> (72.7212, -115.8012) centre (49.4995, -127) ccw construction
  line L3 (75.2805, -127) -> (75.2805, -290.4981) construction
  arc A43 (40.827, -314.7766) -> (75.2805, -290.4981) centre (49.4995, -290.4981) ccw construction
  arc A44 (40.827, -314.7766) -> (-110.2636, -378.357) centre (0, -429.0704) ccw construction
  arc A45 (-146.6928, -346.1366) -> (-110.2636, -378.357) centre (-133.3399, -367.7435) ccw construction
  arc A46 (-146.6928, -346.1366) -> (-146.6928, -71.3615) centre (-231.5971, -208.749) ccw construction
  arc A47 (-136.7495, -24.5844) -> (-146.6928, -71.3615) centre (-133.3399, -49.7545) ccw construction
  line L4 (-136.7495, -24.5844) -> (-4.262, -6.6374) construction
  arc A48 (28.5981, -24.3083) -> (-4.262, -6.6374) centre (0, -38.1) ccw construction
  line L5 (49.4995, -127) -> (49.4995, -290.4981) construction
  line L6 (-58.0695, -184.1548) -> (-58.0695, -233.3432) construction
  point P0 (0, 0)
  point P1 (49.4995, -208.749)
  point P2 (62.5805, -208.749)
  point P3 (-58.0695, -208.749)
  dimension "d114" = 49.1884
  dimension "d115" = 12.7
  dimension "d116" = 49.1884
  dimension "d117" = 120.65
hole "Hole5" at (6.35, -184.1548, 58.0695) at (6.35, -233.3432, 58.0695) at (6.35, -233.3432, -62.5805) at (6.35, -184.1548, -62.5805) direction (-1, 0, 0) diameter 3.81 end through all clearance for "Flat Head Machine Screw (82)" size "#6" standard "Ansi Unified Screw Threads"
sketch "Sketch7" plane through (6.35, 0, 0) normal (1, 0, 0) x (0, 0, -1)
  circle A0 centre (62.5805, -233.3432) radius 1.905 construction
  circle A1 centre (-58.0695, -184.1548) radius 1.905 construction
  circle A2 centre (-58.0695, -233.3432) radius 1.905 construction
  circle A3 centre (62.5805, -184.1548) radius 1.905 construction
  circle A4 centre (20.2847, -219.9605) radius 2.5527 construction
  circle A5 centre (70.518, -259.5066) radius 2.5527 construction
  circle A6 centre (6.7082, -255.5595) radius 2.5527 construction
  circle A7 centre (0, -290.4981) radius 2.5527 construction
  circle A8 centre (-91.4197, -88.3773) radius 2.5527 construction
  circle A9 centre (0, -127) radius 2.5527 construction
  circle A10 centre (-91.4197, -329.1208) radius 2.5527 construction
  circle A11 centre (-12.7, -60.097) radius 2.5527 construction
  circle A12 centre (-12.7, -16.103) radius 2.5527 construction
  circle A13 centre (25.4, -38.1) radius 2.5527 construction
  circle A14 centre (12.7, -16.103) radius 2.5527 construction
  circle A15 centre (-25.4, -38.1) radius 2.5527 construction
  circle A16 centre (12.7, -60.097) radius 2.5527 construction
  circle A17 centre (61.8707, -248.1928) radius 2.5527 construction
  circle A18 centre (-64.6376, -39.8015) radius 2.5527 construction
  circle A19 centre (-64.6376, -61.7985) radius 2.5527 construction
  circle A20 centre (-70.518, -127) radius 2.5527 construction
  circle A21 centre (-150.0876, -380.4435) radius 2.5527 construction
  circle A22 centre (-150.0876, -37.0545) radius 2.5527 construction
  circle A23 centre (28.481, -290.4981) radius 2.5527 construction
  circle A24 centre (-70.518, -290.4981) radius 2.5527 construction
  circle A25 centre (-45.5876, -50.8) radius 2.5527 construction
  circle A26 centre (70.518, -127) radius 2.5527 construction
  circle A27 centre (28.481, -127) radius 2.5527 construction
  circle A28 centre (-28.481, -290.4981) radius 2.5527 construction
  circle A29 centre (70.518, -290.4981) radius 2.5527 construction
  circle A30 centre (-116.5921, -62.4545) radius 2.5527 construction
  circle A31 centre (-116.5921, -355.0435) radius 2.5527 construction
  circle A32 centre (-28.481, -127) radius 2.5527 construction
  circle A33 centre (-51.9376, -61.7985) radius 2.5527 construction
  circle A34 centre (-70.9876, -50.8) radius 2.5527 construction
  circle A35 centre (-51.9376, -39.8015) radius 2.5527 construction
  circle A36 centre (19.8337, -248.1928) radius 2.5527 construction
  circle A37 centre (49.4995, -127) radius 14.1605 construction
  circle A38 centre (49.4995, -290.4981) radius 14.1605 construction
  circle A39 centre (-133.3399, -367.7435) radius 14.1605 construction
  circle A40 centre (-133.3399, -49.7545) radius 14.1605 construction
  circle A41 centre (0, -38.1) radius 14.1605 construction
  circle A42 centre (40.8522, -248.1928) radius 14.1605 construction
  circle A43 centre (-58.2876, -50.8) radius 9.525 construction
  circle A44 centre (-49.4995, -127) radius 14.1605 construction
  circle A45 centre (-49.4995, -290.4981) radius 14.1605 construction
  line L0 (28.5981, -24.3083) -> (72.7212, -115.8012) construction
  arc A46 (75.2805, -127) -> (72.7212, -115.8012) centre (49.4995, -127) ccw construction
  line L1 (75.2805, -127) -> (75.2805, -290.4981) construction
  arc A47 (40.827, -314.7766) -> (75.2805, -290.4981) centre (49.4995, -290.4981) ccw construction
  arc A48 (40.827, -314.7766) -> (-110.2636, -378.357) centre (0, -429.0704) ccw construction
  arc A49 (-146.6928, -346.1366) -> (-110.2636, -378.357) centre (-133.3399, -367.7435) ccw construction
  arc A50 (-146.6928, -346.1366) -> (-146.6928, -71.3615) centre (-231.5971, -208.749) ccw construction
  arc A51 (-136.7495, -24.5844) -> (-146.6928, -71.3615) centre (-133.3399, -49.7545) ccw construction
  line L2 (-136.7495, -24.5844) -> (-4.262, -6.6374) construction
  arc A52 (28.5981, -24.3083) -> (-4.262, -6.6374) centre (0, -38.1) ccw construction
  circle A53 centre (-58.0695, -184.1548) radius 1.905 construction
  circle A54 centre (-58.0695, -233.3432) radius 1.905 construction
  line L3 (-58.0695, -184.1548) -> (-58.0695, -233.3432) construction
  circle A55 centre (62.5805, -184.1548) radius 1.905 construction
  circle A56 centre (62.5805, -233.3432) radius 1.905 construction
  line L4 (62.5805, -184.1548) -> (62.5805, -233.3432) construction
  line L5 (-64.4195, -199.224) -> (-51.7195, -199.224)
  line L6 (-51.7195, -199.224) -> (-51.7195, -218.274)
  line L7 (-51.7195, -218.274) -> (-64.4195, -218.274)
  line L8 (-64.4195, -218.274) -> (-64.4195, -199.224)
  line L9 (-64.4195, -199.224) -> (-51.7195, -218.274) construction
  line L10 (-51.7195, -199.224) -> (-64.4195, -218.274) construction
  line L11 (56.2305, -199.224) -> (68.9305, -199.224)
  line L12 (68.9305, -199.224) -> (68.9305, -218.274)
  line L13 (68.9305, -218.274) -> (56.2305, -218.274)
  line L14 (56.2305, -218.274) -> (56.2305, -199.224)
  line L15 (56.2305, -199.224) -> (68.9305, -218.274) construction
  line L16 (68.9305, -199.224) -> (56.2305, -218.274) construction
  point P0 (0, 0)
  point P1 (-58.0695, -208.749)
  point P2 (62.5805, -208.749)
  dimension "d125" = 12.7
  dimension "d126" = 19.05
extrude "Extrusion2" cut sketch "Sketch7" against normal blind 25.4
fillet "Fillet1" radius 3.302 8 edges at (3.175, -199.224, 51.7195) (3.175, -199.224, 64.4195) (3.175, -218.274, 64.4195) (3.175, -218.274, 51.7195) (3.175, -199.224, -56.2305) (3.175, -199.224, -68.9305) (3.175, -218.274, -68.9305) (3.175, -218.274, -56.2305)
equation "\"d73\" = 2 * d72"
equation "\"d51\" = d50"
equation "\"d99\" = d98"
properties part number "GP5-003" material "Polycarbonate, Smoke"
